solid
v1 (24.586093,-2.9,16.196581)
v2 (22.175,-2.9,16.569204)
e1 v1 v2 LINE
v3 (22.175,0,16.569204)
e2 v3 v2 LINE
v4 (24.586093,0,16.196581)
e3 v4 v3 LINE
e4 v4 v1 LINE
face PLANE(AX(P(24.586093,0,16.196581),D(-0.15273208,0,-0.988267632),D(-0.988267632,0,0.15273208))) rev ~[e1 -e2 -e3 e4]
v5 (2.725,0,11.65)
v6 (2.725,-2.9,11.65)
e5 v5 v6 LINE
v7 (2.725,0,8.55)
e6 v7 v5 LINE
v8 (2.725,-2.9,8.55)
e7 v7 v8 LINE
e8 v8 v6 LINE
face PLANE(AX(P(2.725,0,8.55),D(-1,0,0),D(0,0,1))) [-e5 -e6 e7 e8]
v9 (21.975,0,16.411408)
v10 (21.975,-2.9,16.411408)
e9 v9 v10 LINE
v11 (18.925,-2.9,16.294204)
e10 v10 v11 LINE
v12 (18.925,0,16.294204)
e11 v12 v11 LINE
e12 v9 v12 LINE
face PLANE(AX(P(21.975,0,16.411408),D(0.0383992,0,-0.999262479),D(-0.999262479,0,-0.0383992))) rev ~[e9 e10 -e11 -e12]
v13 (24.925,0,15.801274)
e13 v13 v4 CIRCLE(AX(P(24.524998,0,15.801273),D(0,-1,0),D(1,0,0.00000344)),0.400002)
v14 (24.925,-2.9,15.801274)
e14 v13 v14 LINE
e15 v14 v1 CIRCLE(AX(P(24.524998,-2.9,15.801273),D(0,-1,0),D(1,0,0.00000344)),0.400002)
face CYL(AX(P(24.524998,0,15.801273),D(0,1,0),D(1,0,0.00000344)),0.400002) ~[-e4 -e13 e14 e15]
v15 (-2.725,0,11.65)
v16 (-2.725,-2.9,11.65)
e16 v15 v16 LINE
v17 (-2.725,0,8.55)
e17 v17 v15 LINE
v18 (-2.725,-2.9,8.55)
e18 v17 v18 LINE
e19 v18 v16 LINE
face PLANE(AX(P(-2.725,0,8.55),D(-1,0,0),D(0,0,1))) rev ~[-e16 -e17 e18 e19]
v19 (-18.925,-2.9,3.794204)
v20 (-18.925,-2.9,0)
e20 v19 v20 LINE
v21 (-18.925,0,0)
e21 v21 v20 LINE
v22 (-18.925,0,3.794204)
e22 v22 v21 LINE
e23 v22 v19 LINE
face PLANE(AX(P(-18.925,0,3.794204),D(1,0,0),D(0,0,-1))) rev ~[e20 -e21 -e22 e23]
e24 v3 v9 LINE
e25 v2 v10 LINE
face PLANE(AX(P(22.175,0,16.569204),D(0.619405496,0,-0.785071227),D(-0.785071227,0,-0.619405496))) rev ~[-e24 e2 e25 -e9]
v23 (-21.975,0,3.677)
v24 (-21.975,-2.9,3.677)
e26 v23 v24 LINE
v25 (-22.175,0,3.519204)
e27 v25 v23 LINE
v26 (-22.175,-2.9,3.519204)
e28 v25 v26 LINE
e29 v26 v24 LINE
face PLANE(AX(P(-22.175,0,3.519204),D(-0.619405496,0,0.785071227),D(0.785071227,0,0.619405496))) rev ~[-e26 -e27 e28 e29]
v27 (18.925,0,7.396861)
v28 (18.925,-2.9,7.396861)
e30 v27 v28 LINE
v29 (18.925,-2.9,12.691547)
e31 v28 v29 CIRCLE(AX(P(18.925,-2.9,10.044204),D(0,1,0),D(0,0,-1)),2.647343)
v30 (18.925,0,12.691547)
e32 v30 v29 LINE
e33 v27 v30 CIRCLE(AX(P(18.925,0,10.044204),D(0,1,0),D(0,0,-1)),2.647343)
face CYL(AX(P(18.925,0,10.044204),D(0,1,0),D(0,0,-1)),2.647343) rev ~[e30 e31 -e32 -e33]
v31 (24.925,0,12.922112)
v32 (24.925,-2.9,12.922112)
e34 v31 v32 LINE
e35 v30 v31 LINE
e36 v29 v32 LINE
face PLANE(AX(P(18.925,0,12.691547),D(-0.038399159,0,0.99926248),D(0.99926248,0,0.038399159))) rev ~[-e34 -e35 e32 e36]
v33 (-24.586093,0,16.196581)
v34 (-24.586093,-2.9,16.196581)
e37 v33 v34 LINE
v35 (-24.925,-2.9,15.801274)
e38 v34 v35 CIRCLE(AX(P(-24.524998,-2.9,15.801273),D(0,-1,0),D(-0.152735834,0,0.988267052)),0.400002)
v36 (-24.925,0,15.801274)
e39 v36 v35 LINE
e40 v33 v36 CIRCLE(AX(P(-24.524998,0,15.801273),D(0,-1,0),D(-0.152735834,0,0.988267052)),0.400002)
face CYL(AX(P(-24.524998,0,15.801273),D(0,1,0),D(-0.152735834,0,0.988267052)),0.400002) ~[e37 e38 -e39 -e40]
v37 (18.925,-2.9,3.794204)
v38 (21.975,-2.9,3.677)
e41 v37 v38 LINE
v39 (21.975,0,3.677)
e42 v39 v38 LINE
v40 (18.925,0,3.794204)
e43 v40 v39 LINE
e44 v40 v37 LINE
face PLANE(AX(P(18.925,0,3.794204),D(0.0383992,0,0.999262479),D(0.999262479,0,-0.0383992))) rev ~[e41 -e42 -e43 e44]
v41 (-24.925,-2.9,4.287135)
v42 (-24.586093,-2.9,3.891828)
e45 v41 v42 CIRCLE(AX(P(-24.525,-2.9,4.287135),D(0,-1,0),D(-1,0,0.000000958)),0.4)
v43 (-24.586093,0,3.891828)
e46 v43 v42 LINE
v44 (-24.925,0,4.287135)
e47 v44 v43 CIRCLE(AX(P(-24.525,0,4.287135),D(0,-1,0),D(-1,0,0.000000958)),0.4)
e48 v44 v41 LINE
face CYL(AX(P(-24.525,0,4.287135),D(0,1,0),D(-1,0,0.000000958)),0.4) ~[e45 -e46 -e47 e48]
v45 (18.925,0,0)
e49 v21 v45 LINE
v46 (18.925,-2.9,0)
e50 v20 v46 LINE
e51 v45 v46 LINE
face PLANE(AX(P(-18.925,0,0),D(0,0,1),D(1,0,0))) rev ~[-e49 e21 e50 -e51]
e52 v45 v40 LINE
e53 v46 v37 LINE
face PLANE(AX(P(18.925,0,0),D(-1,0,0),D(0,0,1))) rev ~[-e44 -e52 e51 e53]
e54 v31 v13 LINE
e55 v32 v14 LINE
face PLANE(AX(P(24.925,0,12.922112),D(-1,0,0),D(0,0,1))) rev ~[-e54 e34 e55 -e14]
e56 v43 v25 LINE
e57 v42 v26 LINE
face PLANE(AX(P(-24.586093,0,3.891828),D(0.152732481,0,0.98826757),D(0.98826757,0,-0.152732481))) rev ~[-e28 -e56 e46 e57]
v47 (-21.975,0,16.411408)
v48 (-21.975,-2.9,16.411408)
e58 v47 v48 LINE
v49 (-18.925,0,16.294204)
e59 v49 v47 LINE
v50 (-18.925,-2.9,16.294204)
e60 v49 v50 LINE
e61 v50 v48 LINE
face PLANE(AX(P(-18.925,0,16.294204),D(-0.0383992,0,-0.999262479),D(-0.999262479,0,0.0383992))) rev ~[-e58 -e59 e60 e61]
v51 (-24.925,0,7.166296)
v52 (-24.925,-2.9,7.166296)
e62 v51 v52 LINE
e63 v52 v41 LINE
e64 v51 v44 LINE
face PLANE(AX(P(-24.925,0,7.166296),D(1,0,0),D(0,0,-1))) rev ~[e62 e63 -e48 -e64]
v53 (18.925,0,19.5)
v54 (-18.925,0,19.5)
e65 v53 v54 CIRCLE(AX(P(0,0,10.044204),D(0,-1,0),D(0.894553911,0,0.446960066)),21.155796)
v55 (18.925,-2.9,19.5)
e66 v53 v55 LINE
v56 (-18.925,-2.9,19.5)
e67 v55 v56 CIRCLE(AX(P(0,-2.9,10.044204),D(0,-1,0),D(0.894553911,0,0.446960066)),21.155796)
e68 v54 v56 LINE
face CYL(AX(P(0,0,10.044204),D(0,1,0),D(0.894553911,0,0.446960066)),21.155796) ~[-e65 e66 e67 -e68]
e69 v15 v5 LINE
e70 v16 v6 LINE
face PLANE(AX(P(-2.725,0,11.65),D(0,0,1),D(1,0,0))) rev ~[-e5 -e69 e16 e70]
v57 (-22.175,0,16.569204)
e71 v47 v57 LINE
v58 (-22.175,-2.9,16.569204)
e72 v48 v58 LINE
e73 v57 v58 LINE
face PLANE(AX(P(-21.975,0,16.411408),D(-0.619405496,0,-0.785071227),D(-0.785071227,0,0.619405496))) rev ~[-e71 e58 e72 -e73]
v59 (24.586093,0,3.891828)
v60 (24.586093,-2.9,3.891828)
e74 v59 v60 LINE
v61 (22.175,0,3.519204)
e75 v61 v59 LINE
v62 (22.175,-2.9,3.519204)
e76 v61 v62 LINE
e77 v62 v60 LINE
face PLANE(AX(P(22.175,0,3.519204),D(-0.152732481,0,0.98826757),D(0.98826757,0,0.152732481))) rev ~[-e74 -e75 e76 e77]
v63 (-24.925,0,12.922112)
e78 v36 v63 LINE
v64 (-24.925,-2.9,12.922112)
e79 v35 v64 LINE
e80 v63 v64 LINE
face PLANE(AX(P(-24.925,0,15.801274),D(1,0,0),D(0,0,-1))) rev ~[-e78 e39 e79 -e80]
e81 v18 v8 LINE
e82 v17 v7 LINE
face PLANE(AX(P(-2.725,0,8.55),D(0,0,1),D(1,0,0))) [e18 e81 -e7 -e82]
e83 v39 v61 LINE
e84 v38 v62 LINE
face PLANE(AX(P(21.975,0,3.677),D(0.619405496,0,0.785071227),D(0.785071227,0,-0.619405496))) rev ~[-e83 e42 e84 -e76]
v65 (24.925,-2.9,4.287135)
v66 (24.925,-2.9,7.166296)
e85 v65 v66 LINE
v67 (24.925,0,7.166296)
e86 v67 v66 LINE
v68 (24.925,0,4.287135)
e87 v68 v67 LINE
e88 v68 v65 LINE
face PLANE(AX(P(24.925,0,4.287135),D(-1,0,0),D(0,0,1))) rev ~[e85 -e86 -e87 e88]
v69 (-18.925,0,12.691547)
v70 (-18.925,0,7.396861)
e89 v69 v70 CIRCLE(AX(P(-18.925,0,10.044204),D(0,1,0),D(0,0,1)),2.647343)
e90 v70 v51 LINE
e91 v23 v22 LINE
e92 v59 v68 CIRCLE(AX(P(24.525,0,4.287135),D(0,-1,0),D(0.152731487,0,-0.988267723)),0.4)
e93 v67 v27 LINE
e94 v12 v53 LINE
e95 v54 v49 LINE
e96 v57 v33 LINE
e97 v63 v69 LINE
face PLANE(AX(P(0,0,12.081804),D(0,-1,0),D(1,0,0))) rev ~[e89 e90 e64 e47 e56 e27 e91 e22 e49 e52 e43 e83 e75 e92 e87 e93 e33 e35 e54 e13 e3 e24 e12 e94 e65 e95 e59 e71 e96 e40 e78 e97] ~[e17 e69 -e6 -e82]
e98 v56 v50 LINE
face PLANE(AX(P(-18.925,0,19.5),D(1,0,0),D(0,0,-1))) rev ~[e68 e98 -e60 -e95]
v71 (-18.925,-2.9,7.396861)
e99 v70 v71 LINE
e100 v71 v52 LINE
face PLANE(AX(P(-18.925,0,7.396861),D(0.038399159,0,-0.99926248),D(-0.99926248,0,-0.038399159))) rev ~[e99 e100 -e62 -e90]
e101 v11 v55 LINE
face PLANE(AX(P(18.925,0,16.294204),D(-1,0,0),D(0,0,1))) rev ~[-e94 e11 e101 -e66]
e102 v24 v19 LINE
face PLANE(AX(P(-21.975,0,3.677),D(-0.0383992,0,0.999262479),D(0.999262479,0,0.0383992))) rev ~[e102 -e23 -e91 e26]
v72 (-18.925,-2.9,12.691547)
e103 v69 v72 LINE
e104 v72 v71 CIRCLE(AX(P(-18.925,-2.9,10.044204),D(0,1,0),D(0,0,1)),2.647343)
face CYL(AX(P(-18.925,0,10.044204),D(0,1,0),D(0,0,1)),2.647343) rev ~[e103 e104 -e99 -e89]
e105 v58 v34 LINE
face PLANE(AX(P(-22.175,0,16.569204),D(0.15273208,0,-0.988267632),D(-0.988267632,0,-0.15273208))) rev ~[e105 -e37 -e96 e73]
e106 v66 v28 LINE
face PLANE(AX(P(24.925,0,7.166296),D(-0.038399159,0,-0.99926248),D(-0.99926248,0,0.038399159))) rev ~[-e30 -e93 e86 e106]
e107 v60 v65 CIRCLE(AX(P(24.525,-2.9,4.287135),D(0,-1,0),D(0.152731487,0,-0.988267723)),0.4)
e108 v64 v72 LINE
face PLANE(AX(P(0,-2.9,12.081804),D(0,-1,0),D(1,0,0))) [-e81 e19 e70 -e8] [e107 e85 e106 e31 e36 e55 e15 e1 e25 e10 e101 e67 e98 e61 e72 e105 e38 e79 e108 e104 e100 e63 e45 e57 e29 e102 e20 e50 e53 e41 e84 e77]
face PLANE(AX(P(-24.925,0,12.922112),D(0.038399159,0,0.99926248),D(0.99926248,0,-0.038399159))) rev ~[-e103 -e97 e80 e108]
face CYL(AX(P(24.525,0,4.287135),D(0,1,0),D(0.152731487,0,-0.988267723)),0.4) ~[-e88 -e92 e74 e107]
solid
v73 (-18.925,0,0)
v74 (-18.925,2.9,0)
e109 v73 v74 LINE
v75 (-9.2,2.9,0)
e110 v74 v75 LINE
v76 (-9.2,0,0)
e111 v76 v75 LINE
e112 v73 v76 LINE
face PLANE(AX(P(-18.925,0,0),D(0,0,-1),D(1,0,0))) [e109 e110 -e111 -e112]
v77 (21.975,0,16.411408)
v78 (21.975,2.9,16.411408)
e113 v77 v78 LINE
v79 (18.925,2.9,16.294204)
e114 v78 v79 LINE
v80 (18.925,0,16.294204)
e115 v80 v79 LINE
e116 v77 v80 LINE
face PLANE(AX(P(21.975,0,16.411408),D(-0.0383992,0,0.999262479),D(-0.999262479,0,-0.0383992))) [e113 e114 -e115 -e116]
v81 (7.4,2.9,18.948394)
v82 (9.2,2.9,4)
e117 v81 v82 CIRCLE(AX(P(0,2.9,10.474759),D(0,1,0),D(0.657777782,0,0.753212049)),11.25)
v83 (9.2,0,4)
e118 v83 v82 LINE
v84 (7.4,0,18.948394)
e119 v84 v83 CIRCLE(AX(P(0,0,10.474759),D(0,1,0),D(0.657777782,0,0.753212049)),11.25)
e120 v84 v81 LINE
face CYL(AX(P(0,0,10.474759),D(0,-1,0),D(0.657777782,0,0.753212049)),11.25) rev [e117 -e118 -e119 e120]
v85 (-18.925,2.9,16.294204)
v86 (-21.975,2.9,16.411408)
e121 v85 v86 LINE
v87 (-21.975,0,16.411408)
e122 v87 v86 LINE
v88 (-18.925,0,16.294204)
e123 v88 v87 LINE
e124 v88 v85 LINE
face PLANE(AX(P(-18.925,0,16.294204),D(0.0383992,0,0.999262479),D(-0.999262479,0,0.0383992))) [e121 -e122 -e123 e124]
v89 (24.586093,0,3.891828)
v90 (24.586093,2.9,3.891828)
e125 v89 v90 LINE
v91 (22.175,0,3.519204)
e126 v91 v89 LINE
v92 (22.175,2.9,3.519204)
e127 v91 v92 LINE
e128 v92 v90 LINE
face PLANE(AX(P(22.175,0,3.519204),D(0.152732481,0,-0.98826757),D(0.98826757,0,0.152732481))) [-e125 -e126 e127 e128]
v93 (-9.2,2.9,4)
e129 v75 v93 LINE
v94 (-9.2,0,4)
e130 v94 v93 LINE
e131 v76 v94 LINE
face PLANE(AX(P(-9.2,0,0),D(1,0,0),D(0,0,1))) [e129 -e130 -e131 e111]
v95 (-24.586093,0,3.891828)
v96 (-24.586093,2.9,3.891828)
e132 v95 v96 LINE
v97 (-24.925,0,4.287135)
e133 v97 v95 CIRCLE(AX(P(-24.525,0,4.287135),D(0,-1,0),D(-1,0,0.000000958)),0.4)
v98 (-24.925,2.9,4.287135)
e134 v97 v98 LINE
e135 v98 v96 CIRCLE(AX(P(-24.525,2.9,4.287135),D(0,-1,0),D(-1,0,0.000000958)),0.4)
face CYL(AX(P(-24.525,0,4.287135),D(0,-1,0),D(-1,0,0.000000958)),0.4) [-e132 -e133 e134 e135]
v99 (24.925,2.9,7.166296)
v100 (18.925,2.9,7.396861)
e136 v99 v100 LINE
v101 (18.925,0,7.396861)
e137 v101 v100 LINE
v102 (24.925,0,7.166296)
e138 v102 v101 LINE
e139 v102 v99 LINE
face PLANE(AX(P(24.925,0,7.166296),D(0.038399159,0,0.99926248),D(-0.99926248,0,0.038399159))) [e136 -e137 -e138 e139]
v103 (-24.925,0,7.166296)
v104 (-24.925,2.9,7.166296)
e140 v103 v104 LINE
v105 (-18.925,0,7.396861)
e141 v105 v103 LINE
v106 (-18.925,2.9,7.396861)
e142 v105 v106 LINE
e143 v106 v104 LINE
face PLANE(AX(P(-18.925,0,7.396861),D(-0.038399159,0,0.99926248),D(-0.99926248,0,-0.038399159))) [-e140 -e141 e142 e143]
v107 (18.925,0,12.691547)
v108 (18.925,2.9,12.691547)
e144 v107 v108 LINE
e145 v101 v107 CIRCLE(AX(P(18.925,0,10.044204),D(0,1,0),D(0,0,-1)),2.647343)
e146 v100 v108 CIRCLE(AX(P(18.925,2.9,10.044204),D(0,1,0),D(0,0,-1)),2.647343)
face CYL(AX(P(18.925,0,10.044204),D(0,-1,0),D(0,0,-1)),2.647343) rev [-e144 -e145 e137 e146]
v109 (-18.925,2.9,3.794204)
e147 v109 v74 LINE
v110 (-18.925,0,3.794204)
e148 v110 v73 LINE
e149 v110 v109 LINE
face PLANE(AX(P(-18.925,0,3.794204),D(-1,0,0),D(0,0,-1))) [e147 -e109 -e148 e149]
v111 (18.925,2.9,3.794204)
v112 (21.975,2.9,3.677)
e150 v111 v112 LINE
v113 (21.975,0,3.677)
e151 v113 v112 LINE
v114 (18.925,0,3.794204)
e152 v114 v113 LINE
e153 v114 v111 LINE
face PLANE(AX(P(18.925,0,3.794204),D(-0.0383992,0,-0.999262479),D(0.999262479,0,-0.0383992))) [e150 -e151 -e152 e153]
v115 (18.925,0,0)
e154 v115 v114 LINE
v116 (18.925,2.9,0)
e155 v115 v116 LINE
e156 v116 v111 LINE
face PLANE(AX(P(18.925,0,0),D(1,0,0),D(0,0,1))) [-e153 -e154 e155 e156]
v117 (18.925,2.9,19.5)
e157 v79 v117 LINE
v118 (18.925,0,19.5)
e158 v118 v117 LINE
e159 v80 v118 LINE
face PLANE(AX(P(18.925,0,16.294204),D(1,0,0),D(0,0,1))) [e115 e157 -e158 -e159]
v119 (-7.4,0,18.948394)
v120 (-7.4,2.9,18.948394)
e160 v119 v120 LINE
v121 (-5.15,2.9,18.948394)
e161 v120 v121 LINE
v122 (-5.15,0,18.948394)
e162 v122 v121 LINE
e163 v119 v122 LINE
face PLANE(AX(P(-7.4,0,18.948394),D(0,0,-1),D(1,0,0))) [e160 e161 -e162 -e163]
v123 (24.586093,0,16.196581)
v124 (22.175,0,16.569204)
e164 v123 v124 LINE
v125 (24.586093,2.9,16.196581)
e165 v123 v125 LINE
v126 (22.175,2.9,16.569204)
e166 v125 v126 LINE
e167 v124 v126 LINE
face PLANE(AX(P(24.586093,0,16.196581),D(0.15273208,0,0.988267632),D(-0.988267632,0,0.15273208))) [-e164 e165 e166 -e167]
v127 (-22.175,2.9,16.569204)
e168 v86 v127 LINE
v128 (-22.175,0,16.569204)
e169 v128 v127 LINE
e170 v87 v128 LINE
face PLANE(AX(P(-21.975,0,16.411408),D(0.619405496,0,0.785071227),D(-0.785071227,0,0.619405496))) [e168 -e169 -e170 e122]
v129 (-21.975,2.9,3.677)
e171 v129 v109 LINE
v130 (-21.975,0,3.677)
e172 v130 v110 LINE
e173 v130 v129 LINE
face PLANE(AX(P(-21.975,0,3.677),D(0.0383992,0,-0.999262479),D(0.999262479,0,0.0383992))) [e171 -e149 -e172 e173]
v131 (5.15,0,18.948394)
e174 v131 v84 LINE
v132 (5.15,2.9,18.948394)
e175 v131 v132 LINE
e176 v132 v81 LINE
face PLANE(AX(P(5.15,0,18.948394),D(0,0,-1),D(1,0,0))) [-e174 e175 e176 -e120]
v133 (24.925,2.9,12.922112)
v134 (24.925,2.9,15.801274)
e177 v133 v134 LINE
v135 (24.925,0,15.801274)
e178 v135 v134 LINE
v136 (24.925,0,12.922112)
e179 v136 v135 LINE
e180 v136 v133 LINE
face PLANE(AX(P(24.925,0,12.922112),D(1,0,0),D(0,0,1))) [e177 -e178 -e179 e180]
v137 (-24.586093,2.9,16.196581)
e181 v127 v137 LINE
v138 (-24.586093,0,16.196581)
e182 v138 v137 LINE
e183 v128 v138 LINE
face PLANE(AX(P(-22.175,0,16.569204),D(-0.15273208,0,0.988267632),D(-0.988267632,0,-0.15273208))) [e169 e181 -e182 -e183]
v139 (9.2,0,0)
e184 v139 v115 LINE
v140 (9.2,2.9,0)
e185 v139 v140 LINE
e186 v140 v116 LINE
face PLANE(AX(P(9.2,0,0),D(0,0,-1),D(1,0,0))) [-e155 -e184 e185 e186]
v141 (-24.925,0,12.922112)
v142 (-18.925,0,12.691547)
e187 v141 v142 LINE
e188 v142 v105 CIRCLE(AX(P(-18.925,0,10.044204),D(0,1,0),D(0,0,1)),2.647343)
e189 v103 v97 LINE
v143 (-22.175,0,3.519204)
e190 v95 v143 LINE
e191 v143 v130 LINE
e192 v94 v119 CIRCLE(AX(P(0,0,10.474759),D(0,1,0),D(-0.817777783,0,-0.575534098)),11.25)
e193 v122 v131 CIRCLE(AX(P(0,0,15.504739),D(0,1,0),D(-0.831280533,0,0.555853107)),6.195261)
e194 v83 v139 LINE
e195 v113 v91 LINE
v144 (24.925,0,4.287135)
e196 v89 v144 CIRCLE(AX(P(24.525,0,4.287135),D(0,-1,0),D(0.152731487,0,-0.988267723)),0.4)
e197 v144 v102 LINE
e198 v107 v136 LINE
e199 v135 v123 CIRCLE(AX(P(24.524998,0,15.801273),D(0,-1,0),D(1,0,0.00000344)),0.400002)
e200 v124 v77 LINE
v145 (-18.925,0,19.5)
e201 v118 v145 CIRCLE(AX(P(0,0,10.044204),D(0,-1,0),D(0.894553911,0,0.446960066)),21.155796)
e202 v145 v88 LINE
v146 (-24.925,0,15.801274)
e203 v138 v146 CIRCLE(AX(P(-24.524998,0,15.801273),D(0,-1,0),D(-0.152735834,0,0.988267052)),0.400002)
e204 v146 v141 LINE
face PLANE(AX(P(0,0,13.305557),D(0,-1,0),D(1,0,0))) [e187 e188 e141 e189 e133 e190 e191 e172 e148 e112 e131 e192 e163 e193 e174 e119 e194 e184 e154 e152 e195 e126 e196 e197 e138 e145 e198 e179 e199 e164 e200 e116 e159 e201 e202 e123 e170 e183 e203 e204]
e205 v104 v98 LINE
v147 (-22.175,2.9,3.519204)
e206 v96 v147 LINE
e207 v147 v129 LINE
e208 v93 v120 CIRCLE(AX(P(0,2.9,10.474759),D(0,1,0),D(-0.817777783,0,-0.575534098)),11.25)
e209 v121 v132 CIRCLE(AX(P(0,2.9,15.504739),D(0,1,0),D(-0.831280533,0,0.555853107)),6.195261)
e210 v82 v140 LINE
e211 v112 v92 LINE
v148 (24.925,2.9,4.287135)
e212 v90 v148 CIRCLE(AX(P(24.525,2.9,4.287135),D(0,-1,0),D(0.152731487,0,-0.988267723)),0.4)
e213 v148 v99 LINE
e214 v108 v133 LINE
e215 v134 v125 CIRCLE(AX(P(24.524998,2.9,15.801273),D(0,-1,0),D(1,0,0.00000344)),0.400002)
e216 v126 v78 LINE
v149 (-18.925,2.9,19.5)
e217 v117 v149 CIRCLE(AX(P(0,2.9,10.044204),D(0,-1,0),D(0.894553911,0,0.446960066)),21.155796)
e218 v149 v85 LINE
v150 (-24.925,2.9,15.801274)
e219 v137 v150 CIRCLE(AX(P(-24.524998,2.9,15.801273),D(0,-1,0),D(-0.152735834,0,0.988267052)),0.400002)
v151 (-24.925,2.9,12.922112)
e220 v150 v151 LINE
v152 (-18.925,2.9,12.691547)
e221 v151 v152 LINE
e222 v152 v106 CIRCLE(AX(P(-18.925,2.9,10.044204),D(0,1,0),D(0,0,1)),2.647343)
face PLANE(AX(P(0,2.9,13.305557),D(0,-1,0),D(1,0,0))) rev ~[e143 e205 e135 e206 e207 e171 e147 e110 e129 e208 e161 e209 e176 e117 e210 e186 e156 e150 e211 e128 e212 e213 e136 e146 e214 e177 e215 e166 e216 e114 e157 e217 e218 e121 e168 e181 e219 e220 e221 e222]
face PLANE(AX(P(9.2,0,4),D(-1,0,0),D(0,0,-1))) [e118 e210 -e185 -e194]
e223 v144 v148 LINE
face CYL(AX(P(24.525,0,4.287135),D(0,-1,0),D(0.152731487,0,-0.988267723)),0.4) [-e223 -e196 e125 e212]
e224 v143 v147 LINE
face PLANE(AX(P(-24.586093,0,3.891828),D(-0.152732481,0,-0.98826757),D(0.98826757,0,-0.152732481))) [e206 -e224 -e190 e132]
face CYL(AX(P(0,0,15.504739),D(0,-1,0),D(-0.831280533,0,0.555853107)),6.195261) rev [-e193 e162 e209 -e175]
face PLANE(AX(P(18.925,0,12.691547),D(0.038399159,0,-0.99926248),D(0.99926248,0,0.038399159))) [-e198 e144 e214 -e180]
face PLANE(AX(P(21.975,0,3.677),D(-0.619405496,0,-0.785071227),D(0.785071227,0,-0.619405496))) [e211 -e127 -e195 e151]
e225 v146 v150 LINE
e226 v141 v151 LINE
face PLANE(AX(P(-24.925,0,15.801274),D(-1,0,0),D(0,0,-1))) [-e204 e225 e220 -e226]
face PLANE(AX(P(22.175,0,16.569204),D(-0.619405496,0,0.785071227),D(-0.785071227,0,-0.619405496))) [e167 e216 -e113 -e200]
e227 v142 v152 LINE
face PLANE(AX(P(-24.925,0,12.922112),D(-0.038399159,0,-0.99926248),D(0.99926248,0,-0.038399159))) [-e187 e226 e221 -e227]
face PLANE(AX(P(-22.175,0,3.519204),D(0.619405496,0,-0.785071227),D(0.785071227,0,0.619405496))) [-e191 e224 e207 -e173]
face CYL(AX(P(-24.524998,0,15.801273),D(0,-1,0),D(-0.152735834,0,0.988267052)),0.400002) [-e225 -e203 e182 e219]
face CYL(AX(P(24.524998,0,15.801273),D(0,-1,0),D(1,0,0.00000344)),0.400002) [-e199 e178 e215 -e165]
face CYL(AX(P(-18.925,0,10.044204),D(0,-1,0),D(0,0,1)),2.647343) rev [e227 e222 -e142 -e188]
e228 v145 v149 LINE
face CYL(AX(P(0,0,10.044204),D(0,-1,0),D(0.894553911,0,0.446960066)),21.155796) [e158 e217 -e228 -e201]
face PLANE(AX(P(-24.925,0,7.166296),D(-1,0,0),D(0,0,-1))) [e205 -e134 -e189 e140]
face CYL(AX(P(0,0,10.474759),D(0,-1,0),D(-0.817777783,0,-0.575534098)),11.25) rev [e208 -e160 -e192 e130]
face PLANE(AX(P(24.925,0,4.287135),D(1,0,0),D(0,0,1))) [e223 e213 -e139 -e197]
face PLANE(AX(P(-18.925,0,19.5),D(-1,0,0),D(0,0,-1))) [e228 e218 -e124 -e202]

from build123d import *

# Parameters (mm, degrees)
F0_W     = 5.45
F0_H     = 3.1
F1_DEPTH = 2.9
F3_DEPTH = 2.9


with BuildPart() as f1:
    # F0 (on Front) → F1 (new body)
    with BuildSketch(Plane.XZ):
        with BuildLine():
            Line((-18.925, 3.794204), (-18.925, 0))
            Line((-18.925, 0), (18.925, 0))
            Line((18.925, 0), (18.925, 3.794204))
            Line((18.925, 3.794204), (21.975, 3.677))
            Line((21.975, 3.677), (22.175, 3.519204))
            Line((22.175, 3.519204), (24.586093, 3.891828))
            ThreePointArc((24.586093, 3.891828), (24.828675, 4.026786), (24.925, 4.287135))
            Line((24.925, 4.287135), (24.925, 7.166296))
            Line((24.925, 7.166296), (18.925, 7.396861))
            ThreePointArc((18.925, 7.396861), (16.277657, 10.044204), (18.925, 12.691547))
            Line((18.925, 12.691547), (24.925, 12.922112))
            Line((24.925, 12.922112), (24.925, 15.801274))
            ThreePointArc((24.925, 15.801274), (24.828675, 16.061622), (24.586093, 16.196581))
            Line((24.586093, 16.196581), (22.175, 16.569204))
            Line((22.175, 16.569204), (21.975, 16.411408))
            Line((21.975, 16.411408), (18.925, 16.294204))
            Line((18.925, 16.294204), (18.925, 19.5))
            ThreePointArc((18.925, 19.5), (0, 31.2), (-18.925, 19.5))
            Line((-18.925, 19.5), (-18.925, 16.294204))
            Line((-18.925, 16.294204), (-21.975, 16.411408))
            Line((-21.975, 16.411408), (-22.175, 16.569204))
            Line((-22.175, 16.569204), (-24.586093, 16.196581))
            ThreePointArc((-24.586093, 16.196581), (-24.828675, 16.061622), (-24.925, 15.801274))
            Line((-24.925, 15.801274), (-24.925, 12.922112))
            Line((-24.925, 12.922112), (-18.925, 12.691547))
            ThreePointArc((-18.925, 12.691547), (-16.277657, 10.044204), (-18.925, 7.396861))
            Line((-18.925, 7.396861), (-24.925, 7.166296))
            Line((-24.925, 7.166296), (-24.925, 4.287135))
            ThreePointArc((-24.925, 4.287135), (-24.828675, 4.026786), (-24.586093, 3.891828))
            Line((-24.586093, 3.891828), (-22.175, 3.519204))
            Line((-22.175, 3.519204), (-21.975, 3.677))
            Line((-21.975, 3.677), (-18.925, 3.794204))
        make_face()
        with Locations((0, 10.1)):
            Rectangle(F0_W, F0_H, mode=Mode.SUBTRACT)
    extrude(amount=F1_DEPTH)


with BuildPart() as f3:
    # F2 (on Front) → F3 (new body)
    with BuildSketch(Plane.XZ):
        with BuildLine():
            Line((18.925, 16.294204), (18.925, 19.5))
            ThreePointArc((18.925, 19.5), (0, 31.2), (-18.925, 19.5))
            Line((-18.925, 19.5), (-18.925, 16.294204))
            Line((-18.925, 16.294204), (-21.975, 16.411408))
            Line((-21.975, 16.411408), (-22.175, 16.569204))
            Line((-22.175, 16.569204), (-24.586093, 16.196581))
            ThreePointArc((-24.586093, 16.196581), (-24.828675, 16.061622), (-24.925, 15.801274))
            Line((-24.925, 15.801274), (-24.925, 12.922112))
            Line((-24.925, 12.922112), (-18.925, 12.691547))
            ThreePointArc((-18.925, 12.691547), (-16.277657, 10.044204), (-18.925, 7.396861))
            Line((-18.925, 7.396861), (-24.925, 7.166296))
            Line((-24.925, 7.166296), (-24.925, 4.287135))
            ThreePointArc((-24.925, 4.287135), (-24.828675, 4.026786), (-24.586093, 3.891828))
            Line((-24.586093, 3.891828), (-22.175, 3.519204))
            Line((-22.175, 3.519204), (-21.975, 3.677))
            Line((-21.975, 3.677), (-18.925, 3.794204))
            Line((-18.925, 3.794204), (-18.925, 0))
            Line((-18.925, 0), (-9.2, 0))
            Line((-9.2, 0), (-9.2, 4))
            ThreePointArc((-9.2, 4), (-11.169316, 11.819704), (-7.4, 18.948394))
            Line((-7.4, 18.948394), (-5.15, 18.948394))
            ThreePointArc((-5.15, 18.948394), (0, 21.7), (5.15, 18.948394))
            Line((5.15, 18.948394), (7.4, 18.948394))
            ThreePointArc((7.4, 18.948394), (11.169316, 11.819704), (9.2, 4))
            Line((9.2, 4), (9.2, 0))
            Line((9.2, 0), (18.925, 0))
            Line((18.925, 0), (18.925, 3.794204))
            Line((18.925, 3.794204), (21.975, 3.677))
            Line((21.975, 3.677), (22.175, 3.519204))
            Line((22.175, 3.519204), (24.586093, 3.891828))
            ThreePointArc((24.586093, 3.891828), (24.828675, 4.026786), (24.925, 4.287135))
            Line((24.925, 4.287135), (24.925, 7.166296))
            Line((24.925, 7.166296), (18.925, 7.396861))
            ThreePointArc((18.925, 7.396861), (16.277657, 10.044204), (18.925, 12.691547))
            Line((18.925, 12.691547), (24.925, 12.922112))
            Line((24.925, 12.922112), (24.925, 15.801274))
            ThreePointArc((24.925, 15.801274), (24.828675, 16.061622), (24.586093, 16.196581))
            Line((24.586093, 16.196581), (22.175, 16.569204))
            Line((22.175, 16.569204), (21.975, 16.411408))
            Line((21.975, 16.411408), (18.925, 16.294204))
        make_face()
    extrude(amount=-F3_DEPTH)


solid = Compound([f1.part, f3.part])
